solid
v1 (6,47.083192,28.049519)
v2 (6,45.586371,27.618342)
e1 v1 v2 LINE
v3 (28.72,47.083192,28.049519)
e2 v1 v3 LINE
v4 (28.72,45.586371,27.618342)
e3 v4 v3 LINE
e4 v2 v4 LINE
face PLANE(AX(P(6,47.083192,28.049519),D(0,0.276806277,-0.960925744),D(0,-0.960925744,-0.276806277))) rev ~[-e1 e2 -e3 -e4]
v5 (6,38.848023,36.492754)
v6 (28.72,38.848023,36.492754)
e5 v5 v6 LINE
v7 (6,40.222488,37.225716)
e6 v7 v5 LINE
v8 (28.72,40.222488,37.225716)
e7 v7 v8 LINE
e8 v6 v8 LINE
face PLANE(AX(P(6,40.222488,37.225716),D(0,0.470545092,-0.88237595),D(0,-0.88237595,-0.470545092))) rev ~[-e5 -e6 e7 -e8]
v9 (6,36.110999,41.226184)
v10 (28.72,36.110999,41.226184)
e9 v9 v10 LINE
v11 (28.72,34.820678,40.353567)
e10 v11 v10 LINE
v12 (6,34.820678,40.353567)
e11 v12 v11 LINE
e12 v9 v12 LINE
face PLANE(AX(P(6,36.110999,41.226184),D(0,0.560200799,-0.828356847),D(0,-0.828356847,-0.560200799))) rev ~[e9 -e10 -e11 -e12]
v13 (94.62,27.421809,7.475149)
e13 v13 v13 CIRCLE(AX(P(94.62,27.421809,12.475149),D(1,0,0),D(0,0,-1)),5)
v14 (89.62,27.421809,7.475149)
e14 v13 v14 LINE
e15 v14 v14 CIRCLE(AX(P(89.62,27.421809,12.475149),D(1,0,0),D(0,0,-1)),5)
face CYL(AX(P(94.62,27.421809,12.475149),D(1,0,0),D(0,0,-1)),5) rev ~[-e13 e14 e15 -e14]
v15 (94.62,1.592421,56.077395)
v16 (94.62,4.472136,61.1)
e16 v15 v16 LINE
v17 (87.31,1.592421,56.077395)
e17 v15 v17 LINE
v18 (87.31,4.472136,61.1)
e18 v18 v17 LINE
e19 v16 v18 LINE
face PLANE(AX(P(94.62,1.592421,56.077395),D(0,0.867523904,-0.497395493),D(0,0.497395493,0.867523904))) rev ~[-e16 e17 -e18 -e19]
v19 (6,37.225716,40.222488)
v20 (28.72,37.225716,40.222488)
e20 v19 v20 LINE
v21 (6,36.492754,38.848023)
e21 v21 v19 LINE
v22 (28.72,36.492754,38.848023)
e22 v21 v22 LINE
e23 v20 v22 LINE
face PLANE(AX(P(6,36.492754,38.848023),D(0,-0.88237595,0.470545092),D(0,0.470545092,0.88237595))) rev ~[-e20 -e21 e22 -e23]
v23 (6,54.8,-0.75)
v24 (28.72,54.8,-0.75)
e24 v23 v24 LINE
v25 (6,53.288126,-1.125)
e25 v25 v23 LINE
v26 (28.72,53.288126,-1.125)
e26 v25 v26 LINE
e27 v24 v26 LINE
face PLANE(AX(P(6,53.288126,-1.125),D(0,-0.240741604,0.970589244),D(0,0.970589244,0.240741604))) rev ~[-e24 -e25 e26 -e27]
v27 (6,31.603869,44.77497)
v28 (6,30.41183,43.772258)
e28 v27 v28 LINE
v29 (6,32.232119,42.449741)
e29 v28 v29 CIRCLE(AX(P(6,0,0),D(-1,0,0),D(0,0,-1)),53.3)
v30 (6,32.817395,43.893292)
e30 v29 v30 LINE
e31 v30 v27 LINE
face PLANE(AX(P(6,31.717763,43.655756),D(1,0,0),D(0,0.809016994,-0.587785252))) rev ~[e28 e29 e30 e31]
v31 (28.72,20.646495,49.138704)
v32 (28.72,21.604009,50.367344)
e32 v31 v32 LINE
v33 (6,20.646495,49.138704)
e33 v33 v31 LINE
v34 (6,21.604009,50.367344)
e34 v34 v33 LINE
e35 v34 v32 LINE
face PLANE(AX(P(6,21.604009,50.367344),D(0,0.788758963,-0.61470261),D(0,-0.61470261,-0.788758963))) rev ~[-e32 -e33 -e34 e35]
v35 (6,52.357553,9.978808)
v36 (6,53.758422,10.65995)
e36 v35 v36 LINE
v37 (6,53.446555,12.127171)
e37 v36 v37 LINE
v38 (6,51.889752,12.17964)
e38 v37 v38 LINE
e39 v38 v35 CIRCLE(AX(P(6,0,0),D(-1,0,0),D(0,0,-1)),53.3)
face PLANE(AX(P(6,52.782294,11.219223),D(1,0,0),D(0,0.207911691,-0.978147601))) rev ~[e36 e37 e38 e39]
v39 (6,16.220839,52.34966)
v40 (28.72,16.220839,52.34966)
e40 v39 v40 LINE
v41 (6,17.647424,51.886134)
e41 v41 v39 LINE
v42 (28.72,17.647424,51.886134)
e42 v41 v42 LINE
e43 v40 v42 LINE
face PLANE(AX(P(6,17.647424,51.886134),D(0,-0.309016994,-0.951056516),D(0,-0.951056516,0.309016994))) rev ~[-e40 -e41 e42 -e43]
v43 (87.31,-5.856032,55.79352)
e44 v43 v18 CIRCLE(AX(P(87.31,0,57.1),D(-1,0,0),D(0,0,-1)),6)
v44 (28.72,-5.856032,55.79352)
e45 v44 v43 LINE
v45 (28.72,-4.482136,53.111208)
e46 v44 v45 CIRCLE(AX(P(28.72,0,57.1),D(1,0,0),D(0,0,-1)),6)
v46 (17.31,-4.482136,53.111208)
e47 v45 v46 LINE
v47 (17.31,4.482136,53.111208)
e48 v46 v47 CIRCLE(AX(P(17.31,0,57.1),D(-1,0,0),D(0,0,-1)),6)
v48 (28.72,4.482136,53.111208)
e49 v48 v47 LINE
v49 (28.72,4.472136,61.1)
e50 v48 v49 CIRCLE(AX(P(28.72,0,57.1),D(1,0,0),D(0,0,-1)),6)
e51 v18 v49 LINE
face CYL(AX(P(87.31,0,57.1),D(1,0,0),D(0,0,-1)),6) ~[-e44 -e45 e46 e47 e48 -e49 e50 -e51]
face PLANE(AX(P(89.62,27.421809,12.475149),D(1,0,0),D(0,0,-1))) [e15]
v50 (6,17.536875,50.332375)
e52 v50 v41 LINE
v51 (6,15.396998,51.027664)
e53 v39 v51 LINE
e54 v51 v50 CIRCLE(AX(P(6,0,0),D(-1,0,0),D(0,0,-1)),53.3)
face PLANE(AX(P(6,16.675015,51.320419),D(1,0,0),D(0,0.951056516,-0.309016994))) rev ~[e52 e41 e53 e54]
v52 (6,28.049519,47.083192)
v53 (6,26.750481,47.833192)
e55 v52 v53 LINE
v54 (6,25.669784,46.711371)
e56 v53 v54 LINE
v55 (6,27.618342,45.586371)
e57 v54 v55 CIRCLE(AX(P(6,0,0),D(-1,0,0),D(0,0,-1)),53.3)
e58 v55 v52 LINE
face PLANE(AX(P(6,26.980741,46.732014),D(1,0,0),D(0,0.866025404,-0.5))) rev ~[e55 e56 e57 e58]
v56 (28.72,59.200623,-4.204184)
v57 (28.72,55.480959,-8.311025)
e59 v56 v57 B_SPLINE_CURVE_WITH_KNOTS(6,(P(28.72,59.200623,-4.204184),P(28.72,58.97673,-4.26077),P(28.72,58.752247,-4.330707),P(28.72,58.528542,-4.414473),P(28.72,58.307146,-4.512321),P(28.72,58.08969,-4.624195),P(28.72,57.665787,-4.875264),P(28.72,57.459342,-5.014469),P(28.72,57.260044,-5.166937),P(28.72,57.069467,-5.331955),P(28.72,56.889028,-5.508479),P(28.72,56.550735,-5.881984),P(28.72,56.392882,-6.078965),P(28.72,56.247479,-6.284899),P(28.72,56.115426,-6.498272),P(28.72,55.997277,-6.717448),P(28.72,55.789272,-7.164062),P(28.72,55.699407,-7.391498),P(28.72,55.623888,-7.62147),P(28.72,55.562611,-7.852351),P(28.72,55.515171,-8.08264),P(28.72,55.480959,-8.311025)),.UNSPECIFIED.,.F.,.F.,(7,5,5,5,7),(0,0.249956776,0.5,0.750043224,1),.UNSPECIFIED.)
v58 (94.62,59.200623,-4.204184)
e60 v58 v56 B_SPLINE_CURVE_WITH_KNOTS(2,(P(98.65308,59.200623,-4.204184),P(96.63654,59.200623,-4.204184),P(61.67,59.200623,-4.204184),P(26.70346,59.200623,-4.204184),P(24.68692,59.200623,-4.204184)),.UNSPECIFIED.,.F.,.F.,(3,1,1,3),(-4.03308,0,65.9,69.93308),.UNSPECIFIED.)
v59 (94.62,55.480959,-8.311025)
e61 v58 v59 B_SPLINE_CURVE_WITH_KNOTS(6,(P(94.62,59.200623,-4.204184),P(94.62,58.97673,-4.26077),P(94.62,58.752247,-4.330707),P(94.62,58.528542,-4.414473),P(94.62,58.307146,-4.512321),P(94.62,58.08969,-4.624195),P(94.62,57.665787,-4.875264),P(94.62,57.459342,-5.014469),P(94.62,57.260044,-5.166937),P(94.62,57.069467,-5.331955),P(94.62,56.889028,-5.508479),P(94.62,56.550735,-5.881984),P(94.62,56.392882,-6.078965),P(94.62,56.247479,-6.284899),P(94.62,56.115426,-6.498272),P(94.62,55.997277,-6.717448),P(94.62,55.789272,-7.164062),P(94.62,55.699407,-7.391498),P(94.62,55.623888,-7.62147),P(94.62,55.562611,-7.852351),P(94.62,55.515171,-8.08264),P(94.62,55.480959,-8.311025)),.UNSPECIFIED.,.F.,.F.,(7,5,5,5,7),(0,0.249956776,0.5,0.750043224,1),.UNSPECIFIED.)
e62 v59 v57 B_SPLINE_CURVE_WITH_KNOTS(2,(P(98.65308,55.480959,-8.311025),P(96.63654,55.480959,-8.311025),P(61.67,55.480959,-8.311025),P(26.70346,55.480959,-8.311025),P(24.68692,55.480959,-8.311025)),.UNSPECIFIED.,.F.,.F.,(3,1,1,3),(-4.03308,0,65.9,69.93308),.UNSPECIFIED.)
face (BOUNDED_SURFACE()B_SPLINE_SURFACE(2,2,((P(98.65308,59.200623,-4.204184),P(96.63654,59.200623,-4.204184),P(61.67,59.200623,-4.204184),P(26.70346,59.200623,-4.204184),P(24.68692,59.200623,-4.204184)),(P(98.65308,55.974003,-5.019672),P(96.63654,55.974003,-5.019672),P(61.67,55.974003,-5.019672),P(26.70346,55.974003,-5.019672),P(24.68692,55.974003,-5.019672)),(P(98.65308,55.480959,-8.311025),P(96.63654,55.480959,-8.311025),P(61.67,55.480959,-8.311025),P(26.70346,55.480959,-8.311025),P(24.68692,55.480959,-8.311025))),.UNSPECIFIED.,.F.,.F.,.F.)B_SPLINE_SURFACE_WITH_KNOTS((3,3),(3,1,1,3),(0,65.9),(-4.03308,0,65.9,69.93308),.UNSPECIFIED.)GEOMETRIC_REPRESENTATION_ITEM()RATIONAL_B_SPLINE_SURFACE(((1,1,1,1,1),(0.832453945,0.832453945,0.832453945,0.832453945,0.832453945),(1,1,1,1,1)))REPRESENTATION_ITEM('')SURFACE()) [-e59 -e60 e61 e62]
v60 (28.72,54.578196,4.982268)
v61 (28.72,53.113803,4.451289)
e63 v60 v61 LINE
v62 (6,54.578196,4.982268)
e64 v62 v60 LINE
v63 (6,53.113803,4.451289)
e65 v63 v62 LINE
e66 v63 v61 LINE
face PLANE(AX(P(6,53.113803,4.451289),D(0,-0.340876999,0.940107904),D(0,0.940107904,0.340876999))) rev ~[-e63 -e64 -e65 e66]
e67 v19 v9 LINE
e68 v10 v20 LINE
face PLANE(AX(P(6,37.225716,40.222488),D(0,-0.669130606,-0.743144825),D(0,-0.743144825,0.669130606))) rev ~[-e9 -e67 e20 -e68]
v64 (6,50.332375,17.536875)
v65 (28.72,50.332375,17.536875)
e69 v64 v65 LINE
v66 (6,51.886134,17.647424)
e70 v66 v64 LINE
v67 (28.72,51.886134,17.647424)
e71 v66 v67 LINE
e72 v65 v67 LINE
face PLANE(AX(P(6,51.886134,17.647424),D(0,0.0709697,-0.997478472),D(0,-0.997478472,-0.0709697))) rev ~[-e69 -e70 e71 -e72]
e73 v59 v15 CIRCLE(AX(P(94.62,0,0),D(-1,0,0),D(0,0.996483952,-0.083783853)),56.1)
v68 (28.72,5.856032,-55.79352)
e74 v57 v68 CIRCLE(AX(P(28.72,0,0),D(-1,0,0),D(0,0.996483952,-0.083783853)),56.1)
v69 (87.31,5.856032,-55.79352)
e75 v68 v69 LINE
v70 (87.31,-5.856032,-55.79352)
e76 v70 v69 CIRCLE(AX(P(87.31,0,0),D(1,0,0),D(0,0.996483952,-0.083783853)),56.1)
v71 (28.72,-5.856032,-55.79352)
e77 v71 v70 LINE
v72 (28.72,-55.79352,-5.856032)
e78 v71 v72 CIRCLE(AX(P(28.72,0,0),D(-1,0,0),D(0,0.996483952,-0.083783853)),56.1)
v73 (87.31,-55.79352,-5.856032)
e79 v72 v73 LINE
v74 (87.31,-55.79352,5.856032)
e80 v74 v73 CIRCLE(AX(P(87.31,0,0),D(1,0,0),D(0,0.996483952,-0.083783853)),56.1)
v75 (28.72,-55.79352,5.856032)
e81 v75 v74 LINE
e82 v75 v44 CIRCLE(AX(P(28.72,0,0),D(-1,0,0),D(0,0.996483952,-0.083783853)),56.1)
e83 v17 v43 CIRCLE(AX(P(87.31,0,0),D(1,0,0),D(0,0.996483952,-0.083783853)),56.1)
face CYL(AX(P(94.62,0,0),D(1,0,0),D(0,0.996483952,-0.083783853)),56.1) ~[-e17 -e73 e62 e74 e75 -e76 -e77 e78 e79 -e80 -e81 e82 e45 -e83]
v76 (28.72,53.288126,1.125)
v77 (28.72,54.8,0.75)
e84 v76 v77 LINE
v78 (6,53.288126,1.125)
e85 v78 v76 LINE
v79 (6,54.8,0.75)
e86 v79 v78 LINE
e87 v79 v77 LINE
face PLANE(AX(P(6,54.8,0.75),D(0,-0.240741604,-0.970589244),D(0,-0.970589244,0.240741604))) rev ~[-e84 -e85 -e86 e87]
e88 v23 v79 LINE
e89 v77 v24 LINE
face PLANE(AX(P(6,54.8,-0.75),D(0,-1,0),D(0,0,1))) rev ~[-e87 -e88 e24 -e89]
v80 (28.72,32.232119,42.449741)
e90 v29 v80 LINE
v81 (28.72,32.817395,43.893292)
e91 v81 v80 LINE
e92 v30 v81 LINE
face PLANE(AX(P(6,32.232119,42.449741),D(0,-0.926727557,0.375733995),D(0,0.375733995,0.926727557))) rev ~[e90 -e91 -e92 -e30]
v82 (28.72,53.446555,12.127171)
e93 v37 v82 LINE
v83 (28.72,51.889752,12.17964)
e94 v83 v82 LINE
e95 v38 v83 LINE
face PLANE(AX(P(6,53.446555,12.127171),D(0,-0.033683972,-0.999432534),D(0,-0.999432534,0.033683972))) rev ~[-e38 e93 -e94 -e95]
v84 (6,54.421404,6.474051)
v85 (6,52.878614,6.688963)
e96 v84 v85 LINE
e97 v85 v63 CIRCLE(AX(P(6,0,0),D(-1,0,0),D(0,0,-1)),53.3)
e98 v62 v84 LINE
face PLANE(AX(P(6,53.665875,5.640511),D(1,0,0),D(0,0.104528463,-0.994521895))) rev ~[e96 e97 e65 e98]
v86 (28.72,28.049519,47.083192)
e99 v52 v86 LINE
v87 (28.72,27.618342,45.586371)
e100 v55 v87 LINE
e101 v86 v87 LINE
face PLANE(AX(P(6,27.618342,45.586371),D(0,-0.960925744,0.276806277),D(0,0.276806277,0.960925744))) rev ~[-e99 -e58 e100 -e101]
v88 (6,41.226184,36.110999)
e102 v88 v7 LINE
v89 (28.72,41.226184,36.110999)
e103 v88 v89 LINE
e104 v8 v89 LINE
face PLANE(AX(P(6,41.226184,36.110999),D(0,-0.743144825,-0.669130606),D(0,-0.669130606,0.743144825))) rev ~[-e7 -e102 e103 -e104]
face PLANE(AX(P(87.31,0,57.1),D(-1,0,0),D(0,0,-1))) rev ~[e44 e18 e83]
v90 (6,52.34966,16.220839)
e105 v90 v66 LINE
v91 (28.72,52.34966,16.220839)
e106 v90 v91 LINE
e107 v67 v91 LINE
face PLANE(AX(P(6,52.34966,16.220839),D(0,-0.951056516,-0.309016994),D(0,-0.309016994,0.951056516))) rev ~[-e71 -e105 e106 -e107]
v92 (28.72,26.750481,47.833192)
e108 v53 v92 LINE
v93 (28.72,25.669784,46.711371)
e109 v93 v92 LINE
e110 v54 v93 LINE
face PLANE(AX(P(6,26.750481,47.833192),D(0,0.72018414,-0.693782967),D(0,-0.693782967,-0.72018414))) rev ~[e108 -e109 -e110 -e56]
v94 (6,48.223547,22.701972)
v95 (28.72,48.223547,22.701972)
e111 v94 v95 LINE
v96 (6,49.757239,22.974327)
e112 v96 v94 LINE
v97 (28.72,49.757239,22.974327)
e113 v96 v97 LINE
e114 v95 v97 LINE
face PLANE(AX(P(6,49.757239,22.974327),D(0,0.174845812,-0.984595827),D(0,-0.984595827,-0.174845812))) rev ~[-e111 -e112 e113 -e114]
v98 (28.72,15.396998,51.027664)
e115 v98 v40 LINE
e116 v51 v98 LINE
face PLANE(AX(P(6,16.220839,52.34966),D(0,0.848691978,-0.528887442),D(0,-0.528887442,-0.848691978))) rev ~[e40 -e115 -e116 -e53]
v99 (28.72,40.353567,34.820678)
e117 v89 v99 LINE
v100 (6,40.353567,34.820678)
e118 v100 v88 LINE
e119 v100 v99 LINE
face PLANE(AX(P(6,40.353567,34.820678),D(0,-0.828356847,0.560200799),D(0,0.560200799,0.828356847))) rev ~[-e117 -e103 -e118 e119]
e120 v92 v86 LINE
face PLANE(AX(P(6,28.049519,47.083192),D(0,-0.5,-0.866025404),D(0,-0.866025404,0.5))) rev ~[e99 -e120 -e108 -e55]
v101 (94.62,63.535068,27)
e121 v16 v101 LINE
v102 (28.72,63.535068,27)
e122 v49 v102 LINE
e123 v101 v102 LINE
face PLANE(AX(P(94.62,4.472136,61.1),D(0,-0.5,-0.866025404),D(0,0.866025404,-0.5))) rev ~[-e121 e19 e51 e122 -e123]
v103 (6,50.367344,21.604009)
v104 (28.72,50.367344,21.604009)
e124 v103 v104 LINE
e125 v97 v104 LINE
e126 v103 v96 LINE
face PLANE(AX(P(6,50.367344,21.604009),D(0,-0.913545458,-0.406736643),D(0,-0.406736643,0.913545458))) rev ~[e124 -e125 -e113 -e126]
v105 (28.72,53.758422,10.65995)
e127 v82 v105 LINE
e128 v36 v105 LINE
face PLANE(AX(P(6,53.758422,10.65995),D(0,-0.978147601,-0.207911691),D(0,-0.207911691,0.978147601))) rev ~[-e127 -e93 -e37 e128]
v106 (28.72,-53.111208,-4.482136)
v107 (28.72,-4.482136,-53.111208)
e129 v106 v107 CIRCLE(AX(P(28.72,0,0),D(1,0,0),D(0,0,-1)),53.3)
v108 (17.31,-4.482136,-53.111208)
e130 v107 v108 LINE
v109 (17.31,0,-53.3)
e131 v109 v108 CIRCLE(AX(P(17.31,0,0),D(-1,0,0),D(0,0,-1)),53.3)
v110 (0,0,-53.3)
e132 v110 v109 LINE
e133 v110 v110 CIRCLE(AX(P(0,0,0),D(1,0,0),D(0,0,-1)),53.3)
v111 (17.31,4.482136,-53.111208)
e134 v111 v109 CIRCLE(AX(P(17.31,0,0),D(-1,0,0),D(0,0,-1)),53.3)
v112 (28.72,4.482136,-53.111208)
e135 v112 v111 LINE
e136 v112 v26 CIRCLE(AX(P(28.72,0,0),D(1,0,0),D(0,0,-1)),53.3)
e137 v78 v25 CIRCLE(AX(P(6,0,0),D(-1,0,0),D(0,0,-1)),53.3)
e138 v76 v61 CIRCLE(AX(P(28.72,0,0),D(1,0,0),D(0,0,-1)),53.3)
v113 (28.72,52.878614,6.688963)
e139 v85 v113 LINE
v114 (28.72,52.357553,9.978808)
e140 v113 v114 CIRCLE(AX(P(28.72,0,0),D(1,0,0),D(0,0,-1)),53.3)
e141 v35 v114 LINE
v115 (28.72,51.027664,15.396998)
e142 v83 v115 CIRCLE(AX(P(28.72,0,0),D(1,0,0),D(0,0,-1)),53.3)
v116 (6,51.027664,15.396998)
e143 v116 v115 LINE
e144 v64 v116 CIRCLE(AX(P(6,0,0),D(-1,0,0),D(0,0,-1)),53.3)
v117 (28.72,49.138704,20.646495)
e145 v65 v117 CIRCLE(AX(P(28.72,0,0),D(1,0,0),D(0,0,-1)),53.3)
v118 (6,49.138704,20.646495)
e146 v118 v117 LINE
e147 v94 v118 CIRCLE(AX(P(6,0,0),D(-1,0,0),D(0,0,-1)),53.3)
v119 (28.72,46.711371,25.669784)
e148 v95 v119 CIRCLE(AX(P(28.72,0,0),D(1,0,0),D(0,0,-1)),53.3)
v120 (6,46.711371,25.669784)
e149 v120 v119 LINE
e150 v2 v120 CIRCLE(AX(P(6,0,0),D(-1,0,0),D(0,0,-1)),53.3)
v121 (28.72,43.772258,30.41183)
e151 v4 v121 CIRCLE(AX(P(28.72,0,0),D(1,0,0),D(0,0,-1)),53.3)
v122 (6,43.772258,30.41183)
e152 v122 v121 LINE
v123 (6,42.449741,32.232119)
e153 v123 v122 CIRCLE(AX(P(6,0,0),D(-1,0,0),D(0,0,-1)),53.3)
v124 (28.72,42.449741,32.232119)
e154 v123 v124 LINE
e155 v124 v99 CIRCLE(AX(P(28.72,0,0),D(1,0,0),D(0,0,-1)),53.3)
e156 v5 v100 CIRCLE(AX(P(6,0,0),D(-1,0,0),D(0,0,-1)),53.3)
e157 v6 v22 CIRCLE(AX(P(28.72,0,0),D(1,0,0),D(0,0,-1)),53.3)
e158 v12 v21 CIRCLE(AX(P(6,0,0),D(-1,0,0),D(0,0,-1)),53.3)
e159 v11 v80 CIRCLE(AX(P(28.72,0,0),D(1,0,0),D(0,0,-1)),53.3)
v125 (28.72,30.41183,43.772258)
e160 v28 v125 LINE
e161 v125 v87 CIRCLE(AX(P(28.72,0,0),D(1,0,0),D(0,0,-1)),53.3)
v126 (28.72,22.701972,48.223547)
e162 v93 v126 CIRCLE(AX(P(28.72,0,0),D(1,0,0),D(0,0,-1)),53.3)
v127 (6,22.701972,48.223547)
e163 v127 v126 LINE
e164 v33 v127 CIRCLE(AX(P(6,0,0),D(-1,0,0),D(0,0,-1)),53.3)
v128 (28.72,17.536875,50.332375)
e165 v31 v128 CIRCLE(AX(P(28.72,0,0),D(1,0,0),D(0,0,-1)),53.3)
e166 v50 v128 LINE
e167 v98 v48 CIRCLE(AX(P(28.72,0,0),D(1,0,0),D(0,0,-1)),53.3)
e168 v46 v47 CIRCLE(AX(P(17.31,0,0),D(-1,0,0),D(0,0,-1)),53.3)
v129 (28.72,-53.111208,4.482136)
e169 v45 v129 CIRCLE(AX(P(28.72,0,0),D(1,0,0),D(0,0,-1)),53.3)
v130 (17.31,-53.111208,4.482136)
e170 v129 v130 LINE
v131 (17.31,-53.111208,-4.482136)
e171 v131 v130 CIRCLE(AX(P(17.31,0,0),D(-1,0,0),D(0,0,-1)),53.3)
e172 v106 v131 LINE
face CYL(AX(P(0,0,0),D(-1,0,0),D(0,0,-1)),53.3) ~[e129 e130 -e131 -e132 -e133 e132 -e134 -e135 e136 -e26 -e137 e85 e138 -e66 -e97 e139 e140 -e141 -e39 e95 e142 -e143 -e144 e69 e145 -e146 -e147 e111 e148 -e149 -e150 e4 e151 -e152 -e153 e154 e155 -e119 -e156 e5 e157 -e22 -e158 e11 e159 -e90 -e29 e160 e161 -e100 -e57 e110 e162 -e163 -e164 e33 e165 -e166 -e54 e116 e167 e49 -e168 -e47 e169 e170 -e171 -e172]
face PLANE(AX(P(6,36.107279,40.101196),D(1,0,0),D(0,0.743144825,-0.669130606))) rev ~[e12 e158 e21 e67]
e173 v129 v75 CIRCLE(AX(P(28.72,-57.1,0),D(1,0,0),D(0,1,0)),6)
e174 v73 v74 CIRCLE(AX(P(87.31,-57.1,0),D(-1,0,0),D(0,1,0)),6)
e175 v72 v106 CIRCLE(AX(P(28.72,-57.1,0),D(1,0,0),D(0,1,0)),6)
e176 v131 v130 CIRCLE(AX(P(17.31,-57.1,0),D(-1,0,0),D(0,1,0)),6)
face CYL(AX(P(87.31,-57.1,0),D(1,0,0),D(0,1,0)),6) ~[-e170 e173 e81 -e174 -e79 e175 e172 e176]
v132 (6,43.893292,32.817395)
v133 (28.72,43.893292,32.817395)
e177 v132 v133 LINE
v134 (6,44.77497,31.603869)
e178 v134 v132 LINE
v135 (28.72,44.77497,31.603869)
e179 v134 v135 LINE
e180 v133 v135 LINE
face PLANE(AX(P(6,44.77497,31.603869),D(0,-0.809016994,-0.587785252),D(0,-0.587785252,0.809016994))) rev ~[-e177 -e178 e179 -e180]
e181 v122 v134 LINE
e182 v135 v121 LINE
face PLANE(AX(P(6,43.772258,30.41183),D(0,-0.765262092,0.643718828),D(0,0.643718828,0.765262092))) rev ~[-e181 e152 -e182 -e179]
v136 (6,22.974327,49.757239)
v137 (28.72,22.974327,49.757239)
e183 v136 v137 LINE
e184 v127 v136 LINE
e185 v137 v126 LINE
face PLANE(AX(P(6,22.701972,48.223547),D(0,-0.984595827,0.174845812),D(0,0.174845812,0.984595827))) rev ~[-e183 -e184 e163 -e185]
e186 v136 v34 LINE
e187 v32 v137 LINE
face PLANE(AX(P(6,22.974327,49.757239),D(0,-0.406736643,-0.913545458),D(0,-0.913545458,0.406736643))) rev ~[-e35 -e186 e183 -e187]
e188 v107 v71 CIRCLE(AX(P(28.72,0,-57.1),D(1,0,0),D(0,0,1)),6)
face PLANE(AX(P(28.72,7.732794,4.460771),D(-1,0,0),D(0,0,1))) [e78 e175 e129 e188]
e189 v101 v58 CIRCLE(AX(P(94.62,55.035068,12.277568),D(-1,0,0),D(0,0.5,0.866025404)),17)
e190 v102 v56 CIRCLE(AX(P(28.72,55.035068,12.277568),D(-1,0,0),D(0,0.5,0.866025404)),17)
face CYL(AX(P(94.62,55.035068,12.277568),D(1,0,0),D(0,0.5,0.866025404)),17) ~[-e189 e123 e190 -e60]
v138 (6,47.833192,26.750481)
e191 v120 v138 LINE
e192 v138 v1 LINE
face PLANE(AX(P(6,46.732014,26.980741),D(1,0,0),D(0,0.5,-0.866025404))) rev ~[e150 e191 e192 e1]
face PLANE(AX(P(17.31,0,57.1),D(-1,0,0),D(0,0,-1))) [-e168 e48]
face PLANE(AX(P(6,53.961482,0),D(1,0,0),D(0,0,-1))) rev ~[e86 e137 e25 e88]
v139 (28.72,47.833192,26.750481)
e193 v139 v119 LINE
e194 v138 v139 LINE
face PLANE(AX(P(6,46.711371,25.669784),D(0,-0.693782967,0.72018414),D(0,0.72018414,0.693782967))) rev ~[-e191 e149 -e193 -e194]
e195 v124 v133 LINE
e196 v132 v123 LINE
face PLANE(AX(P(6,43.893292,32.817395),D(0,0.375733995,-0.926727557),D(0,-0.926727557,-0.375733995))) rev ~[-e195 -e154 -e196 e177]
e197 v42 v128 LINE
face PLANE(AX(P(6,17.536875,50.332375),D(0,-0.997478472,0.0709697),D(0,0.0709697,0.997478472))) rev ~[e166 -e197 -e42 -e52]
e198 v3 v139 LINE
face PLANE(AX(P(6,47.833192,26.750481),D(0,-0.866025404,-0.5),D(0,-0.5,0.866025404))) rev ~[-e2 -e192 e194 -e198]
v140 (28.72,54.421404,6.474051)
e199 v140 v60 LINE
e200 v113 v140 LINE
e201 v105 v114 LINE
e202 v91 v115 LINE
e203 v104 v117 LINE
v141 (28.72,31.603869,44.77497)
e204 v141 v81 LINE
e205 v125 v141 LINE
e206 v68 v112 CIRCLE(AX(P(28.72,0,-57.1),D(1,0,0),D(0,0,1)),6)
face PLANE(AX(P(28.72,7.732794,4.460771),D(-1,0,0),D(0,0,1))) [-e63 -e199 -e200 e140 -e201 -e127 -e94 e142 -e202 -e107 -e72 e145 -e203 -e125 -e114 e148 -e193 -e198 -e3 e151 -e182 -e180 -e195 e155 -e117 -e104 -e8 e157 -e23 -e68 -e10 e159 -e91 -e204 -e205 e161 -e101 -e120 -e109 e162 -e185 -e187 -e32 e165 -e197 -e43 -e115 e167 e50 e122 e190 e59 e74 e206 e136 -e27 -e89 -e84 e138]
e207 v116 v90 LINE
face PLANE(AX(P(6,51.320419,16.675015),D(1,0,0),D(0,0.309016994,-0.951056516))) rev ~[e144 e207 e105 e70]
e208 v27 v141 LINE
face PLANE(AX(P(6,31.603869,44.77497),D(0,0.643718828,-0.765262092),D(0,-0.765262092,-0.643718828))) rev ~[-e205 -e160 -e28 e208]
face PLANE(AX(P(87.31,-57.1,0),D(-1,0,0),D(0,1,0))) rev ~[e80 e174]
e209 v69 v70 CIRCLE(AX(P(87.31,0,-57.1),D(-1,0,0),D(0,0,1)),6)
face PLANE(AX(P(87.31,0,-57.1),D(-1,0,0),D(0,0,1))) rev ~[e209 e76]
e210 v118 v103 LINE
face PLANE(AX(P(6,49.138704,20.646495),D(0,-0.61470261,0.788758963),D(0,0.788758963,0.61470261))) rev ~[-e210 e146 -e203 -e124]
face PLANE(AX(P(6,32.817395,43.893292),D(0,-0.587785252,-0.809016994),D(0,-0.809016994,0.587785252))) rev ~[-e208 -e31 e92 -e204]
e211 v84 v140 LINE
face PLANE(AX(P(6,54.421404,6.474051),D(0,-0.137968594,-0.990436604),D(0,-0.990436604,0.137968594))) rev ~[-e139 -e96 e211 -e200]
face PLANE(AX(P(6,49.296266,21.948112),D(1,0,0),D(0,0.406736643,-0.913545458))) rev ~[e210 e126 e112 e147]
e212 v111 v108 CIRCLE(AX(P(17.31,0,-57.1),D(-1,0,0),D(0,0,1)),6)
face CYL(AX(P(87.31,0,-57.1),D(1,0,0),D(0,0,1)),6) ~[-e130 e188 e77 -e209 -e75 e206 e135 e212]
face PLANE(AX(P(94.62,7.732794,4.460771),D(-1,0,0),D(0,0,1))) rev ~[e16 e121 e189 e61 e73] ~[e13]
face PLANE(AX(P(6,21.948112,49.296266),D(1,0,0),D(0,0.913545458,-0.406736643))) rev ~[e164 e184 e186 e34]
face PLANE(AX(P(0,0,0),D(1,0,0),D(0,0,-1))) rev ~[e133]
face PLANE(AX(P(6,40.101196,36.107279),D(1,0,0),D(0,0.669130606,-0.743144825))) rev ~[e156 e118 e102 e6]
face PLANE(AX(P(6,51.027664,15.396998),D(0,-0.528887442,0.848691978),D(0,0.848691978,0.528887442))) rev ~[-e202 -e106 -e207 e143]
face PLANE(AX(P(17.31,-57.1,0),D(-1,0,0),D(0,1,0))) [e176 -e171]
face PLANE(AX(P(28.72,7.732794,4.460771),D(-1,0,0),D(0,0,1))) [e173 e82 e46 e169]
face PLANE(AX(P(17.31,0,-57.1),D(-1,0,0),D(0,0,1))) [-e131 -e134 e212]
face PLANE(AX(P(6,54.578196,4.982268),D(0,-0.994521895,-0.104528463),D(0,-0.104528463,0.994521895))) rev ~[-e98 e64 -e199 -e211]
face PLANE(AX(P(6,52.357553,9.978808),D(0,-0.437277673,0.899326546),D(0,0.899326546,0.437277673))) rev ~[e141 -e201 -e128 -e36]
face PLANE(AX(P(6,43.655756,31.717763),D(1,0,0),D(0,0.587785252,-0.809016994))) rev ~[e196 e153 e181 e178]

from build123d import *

# Parameters (mm, degrees)
SKETCH2_R           = 53.3
BOSS_EXTRUDE1_DEPTH = 94.62
BOSS_EXTRUDE2_DEPTH = 83
CIRPATTERN1_COUNT   = 13
CIRPATTERN1_ANGLE   = 72
BOSS_EXTRUDE3_START = -40
SKETCH5_R           = 6
BOSS_EXTRUDE3_DEPTH = 70
CIRPATTERN2_COUNT   = 3
CIRPATTERN2_ANGLE   = 180
SKETCH6_R           = 53.3
BOSS_EXTRUDE4_DEPTH = 65.9
FILLET2_R           = 5
SKETCH7_R           = 5
CUT_EXTRUDE1_DEPTH  = 5


with BuildPart() as part:
    # Sketch2 → Boss-Extrude1 (new body)
    with BuildSketch(Plane(origin=(0, 0, 0), x_dir=(0, 0, -1), z_dir=(1, 0, 0))):
        Circle(SKETCH2_R)
    extrude(amount=BOSS_EXTRUDE1_DEPTH)

    # Sketch4 → Boss-Extrude2 (add)
    with BuildSketch(Plane.ZY.offset(-6)):
        Polygon((-0.75, 54.8), (0.75, 54.8), (1.125, 53.288126023), (-1.125, 53.288126023), align=None)
    boss_extrude2 = extrude(amount=-BOSS_EXTRUDE2_DEPTH)

    # CirPattern1: Boss-Extrude2 ×13 about axis
    cirpattern1_axis = Axis((0, 0, 0), (1, 0, 0))
    for i in range(1, CIRPATTERN1_COUNT):
        add(boss_extrude2.rotate(cirpattern1_axis, i * CIRPATTERN1_ANGLE / (CIRPATTERN1_COUNT - 1)))

    # Sketch5 → Boss-Extrude3 (add)
    with BuildSketch(Plane.ZY.offset(-47.31).offset(BOSS_EXTRUDE3_START)):
        with Locations((-57.1, 0)):
            Circle(SKETCH5_R)
    boss_extrude3 = extrude(amount=BOSS_EXTRUDE3_DEPTH)

    # CirPattern2: Boss-Extrude3 ×3 about axis
    cirpattern2_axis = Axis((0, 0, 0), (-1, 0, 0))
    for i in range(1, CIRPATTERN2_COUNT):
        add(boss_extrude3.rotate(cirpattern2_axis, i * CIRPATTERN2_ANGLE / (CIRPATTERN2_COUNT - 1)))

    # Sketch6 → Boss-Extrude4 (add)
    with BuildSketch(Plane(origin=(94.62, 0, 0), x_dir=(0, 0, -1), z_dir=(1, 0, 0))):
        with BuildLine():
            Line((-61.1, 4.472135955), (-27, 63.535068493))
            ThreePointArc((-27, 63.535068493), (-8.298272765, 71.562778811), (4.70027417, 55.902749688))
            ThreePointArc((4.70027417, 55.902749688), (37.380543987, -41.831865022), (-56.077394681, 1.592421361))
            Line((-56.077394681, 1.592421361), (-61.1, 4.472135955))
        make_face()
        Circle(SKETCH6_R, mode=Mode.SUBTRACT)
    extrude(amount=-BOSS_EXTRUDE4_DEPTH)

    # Fillet2
    fillet2_edges = [part.edges().sort_by_distance(p)[0] for p in [
        (61.67, 55.902749688, -4.70027417),
    ]]
    fillet(fillet2_edges, radius=FILLET2_R)

    # Sketch7 → Cut-Extrude1 (cut)
    with BuildSketch(Plane(origin=(94.62, 0, 0), x_dir=(0, 0, -1), z_dir=(1, 0, 0))):
        with Locations((-12.475149036, 27.421809155)):
            Circle(SKETCH7_R)
    extrude(amount=-CUT_EXTRUDE1_DEPTH, mode=Mode.SUBTRACT)


solid = part.part
